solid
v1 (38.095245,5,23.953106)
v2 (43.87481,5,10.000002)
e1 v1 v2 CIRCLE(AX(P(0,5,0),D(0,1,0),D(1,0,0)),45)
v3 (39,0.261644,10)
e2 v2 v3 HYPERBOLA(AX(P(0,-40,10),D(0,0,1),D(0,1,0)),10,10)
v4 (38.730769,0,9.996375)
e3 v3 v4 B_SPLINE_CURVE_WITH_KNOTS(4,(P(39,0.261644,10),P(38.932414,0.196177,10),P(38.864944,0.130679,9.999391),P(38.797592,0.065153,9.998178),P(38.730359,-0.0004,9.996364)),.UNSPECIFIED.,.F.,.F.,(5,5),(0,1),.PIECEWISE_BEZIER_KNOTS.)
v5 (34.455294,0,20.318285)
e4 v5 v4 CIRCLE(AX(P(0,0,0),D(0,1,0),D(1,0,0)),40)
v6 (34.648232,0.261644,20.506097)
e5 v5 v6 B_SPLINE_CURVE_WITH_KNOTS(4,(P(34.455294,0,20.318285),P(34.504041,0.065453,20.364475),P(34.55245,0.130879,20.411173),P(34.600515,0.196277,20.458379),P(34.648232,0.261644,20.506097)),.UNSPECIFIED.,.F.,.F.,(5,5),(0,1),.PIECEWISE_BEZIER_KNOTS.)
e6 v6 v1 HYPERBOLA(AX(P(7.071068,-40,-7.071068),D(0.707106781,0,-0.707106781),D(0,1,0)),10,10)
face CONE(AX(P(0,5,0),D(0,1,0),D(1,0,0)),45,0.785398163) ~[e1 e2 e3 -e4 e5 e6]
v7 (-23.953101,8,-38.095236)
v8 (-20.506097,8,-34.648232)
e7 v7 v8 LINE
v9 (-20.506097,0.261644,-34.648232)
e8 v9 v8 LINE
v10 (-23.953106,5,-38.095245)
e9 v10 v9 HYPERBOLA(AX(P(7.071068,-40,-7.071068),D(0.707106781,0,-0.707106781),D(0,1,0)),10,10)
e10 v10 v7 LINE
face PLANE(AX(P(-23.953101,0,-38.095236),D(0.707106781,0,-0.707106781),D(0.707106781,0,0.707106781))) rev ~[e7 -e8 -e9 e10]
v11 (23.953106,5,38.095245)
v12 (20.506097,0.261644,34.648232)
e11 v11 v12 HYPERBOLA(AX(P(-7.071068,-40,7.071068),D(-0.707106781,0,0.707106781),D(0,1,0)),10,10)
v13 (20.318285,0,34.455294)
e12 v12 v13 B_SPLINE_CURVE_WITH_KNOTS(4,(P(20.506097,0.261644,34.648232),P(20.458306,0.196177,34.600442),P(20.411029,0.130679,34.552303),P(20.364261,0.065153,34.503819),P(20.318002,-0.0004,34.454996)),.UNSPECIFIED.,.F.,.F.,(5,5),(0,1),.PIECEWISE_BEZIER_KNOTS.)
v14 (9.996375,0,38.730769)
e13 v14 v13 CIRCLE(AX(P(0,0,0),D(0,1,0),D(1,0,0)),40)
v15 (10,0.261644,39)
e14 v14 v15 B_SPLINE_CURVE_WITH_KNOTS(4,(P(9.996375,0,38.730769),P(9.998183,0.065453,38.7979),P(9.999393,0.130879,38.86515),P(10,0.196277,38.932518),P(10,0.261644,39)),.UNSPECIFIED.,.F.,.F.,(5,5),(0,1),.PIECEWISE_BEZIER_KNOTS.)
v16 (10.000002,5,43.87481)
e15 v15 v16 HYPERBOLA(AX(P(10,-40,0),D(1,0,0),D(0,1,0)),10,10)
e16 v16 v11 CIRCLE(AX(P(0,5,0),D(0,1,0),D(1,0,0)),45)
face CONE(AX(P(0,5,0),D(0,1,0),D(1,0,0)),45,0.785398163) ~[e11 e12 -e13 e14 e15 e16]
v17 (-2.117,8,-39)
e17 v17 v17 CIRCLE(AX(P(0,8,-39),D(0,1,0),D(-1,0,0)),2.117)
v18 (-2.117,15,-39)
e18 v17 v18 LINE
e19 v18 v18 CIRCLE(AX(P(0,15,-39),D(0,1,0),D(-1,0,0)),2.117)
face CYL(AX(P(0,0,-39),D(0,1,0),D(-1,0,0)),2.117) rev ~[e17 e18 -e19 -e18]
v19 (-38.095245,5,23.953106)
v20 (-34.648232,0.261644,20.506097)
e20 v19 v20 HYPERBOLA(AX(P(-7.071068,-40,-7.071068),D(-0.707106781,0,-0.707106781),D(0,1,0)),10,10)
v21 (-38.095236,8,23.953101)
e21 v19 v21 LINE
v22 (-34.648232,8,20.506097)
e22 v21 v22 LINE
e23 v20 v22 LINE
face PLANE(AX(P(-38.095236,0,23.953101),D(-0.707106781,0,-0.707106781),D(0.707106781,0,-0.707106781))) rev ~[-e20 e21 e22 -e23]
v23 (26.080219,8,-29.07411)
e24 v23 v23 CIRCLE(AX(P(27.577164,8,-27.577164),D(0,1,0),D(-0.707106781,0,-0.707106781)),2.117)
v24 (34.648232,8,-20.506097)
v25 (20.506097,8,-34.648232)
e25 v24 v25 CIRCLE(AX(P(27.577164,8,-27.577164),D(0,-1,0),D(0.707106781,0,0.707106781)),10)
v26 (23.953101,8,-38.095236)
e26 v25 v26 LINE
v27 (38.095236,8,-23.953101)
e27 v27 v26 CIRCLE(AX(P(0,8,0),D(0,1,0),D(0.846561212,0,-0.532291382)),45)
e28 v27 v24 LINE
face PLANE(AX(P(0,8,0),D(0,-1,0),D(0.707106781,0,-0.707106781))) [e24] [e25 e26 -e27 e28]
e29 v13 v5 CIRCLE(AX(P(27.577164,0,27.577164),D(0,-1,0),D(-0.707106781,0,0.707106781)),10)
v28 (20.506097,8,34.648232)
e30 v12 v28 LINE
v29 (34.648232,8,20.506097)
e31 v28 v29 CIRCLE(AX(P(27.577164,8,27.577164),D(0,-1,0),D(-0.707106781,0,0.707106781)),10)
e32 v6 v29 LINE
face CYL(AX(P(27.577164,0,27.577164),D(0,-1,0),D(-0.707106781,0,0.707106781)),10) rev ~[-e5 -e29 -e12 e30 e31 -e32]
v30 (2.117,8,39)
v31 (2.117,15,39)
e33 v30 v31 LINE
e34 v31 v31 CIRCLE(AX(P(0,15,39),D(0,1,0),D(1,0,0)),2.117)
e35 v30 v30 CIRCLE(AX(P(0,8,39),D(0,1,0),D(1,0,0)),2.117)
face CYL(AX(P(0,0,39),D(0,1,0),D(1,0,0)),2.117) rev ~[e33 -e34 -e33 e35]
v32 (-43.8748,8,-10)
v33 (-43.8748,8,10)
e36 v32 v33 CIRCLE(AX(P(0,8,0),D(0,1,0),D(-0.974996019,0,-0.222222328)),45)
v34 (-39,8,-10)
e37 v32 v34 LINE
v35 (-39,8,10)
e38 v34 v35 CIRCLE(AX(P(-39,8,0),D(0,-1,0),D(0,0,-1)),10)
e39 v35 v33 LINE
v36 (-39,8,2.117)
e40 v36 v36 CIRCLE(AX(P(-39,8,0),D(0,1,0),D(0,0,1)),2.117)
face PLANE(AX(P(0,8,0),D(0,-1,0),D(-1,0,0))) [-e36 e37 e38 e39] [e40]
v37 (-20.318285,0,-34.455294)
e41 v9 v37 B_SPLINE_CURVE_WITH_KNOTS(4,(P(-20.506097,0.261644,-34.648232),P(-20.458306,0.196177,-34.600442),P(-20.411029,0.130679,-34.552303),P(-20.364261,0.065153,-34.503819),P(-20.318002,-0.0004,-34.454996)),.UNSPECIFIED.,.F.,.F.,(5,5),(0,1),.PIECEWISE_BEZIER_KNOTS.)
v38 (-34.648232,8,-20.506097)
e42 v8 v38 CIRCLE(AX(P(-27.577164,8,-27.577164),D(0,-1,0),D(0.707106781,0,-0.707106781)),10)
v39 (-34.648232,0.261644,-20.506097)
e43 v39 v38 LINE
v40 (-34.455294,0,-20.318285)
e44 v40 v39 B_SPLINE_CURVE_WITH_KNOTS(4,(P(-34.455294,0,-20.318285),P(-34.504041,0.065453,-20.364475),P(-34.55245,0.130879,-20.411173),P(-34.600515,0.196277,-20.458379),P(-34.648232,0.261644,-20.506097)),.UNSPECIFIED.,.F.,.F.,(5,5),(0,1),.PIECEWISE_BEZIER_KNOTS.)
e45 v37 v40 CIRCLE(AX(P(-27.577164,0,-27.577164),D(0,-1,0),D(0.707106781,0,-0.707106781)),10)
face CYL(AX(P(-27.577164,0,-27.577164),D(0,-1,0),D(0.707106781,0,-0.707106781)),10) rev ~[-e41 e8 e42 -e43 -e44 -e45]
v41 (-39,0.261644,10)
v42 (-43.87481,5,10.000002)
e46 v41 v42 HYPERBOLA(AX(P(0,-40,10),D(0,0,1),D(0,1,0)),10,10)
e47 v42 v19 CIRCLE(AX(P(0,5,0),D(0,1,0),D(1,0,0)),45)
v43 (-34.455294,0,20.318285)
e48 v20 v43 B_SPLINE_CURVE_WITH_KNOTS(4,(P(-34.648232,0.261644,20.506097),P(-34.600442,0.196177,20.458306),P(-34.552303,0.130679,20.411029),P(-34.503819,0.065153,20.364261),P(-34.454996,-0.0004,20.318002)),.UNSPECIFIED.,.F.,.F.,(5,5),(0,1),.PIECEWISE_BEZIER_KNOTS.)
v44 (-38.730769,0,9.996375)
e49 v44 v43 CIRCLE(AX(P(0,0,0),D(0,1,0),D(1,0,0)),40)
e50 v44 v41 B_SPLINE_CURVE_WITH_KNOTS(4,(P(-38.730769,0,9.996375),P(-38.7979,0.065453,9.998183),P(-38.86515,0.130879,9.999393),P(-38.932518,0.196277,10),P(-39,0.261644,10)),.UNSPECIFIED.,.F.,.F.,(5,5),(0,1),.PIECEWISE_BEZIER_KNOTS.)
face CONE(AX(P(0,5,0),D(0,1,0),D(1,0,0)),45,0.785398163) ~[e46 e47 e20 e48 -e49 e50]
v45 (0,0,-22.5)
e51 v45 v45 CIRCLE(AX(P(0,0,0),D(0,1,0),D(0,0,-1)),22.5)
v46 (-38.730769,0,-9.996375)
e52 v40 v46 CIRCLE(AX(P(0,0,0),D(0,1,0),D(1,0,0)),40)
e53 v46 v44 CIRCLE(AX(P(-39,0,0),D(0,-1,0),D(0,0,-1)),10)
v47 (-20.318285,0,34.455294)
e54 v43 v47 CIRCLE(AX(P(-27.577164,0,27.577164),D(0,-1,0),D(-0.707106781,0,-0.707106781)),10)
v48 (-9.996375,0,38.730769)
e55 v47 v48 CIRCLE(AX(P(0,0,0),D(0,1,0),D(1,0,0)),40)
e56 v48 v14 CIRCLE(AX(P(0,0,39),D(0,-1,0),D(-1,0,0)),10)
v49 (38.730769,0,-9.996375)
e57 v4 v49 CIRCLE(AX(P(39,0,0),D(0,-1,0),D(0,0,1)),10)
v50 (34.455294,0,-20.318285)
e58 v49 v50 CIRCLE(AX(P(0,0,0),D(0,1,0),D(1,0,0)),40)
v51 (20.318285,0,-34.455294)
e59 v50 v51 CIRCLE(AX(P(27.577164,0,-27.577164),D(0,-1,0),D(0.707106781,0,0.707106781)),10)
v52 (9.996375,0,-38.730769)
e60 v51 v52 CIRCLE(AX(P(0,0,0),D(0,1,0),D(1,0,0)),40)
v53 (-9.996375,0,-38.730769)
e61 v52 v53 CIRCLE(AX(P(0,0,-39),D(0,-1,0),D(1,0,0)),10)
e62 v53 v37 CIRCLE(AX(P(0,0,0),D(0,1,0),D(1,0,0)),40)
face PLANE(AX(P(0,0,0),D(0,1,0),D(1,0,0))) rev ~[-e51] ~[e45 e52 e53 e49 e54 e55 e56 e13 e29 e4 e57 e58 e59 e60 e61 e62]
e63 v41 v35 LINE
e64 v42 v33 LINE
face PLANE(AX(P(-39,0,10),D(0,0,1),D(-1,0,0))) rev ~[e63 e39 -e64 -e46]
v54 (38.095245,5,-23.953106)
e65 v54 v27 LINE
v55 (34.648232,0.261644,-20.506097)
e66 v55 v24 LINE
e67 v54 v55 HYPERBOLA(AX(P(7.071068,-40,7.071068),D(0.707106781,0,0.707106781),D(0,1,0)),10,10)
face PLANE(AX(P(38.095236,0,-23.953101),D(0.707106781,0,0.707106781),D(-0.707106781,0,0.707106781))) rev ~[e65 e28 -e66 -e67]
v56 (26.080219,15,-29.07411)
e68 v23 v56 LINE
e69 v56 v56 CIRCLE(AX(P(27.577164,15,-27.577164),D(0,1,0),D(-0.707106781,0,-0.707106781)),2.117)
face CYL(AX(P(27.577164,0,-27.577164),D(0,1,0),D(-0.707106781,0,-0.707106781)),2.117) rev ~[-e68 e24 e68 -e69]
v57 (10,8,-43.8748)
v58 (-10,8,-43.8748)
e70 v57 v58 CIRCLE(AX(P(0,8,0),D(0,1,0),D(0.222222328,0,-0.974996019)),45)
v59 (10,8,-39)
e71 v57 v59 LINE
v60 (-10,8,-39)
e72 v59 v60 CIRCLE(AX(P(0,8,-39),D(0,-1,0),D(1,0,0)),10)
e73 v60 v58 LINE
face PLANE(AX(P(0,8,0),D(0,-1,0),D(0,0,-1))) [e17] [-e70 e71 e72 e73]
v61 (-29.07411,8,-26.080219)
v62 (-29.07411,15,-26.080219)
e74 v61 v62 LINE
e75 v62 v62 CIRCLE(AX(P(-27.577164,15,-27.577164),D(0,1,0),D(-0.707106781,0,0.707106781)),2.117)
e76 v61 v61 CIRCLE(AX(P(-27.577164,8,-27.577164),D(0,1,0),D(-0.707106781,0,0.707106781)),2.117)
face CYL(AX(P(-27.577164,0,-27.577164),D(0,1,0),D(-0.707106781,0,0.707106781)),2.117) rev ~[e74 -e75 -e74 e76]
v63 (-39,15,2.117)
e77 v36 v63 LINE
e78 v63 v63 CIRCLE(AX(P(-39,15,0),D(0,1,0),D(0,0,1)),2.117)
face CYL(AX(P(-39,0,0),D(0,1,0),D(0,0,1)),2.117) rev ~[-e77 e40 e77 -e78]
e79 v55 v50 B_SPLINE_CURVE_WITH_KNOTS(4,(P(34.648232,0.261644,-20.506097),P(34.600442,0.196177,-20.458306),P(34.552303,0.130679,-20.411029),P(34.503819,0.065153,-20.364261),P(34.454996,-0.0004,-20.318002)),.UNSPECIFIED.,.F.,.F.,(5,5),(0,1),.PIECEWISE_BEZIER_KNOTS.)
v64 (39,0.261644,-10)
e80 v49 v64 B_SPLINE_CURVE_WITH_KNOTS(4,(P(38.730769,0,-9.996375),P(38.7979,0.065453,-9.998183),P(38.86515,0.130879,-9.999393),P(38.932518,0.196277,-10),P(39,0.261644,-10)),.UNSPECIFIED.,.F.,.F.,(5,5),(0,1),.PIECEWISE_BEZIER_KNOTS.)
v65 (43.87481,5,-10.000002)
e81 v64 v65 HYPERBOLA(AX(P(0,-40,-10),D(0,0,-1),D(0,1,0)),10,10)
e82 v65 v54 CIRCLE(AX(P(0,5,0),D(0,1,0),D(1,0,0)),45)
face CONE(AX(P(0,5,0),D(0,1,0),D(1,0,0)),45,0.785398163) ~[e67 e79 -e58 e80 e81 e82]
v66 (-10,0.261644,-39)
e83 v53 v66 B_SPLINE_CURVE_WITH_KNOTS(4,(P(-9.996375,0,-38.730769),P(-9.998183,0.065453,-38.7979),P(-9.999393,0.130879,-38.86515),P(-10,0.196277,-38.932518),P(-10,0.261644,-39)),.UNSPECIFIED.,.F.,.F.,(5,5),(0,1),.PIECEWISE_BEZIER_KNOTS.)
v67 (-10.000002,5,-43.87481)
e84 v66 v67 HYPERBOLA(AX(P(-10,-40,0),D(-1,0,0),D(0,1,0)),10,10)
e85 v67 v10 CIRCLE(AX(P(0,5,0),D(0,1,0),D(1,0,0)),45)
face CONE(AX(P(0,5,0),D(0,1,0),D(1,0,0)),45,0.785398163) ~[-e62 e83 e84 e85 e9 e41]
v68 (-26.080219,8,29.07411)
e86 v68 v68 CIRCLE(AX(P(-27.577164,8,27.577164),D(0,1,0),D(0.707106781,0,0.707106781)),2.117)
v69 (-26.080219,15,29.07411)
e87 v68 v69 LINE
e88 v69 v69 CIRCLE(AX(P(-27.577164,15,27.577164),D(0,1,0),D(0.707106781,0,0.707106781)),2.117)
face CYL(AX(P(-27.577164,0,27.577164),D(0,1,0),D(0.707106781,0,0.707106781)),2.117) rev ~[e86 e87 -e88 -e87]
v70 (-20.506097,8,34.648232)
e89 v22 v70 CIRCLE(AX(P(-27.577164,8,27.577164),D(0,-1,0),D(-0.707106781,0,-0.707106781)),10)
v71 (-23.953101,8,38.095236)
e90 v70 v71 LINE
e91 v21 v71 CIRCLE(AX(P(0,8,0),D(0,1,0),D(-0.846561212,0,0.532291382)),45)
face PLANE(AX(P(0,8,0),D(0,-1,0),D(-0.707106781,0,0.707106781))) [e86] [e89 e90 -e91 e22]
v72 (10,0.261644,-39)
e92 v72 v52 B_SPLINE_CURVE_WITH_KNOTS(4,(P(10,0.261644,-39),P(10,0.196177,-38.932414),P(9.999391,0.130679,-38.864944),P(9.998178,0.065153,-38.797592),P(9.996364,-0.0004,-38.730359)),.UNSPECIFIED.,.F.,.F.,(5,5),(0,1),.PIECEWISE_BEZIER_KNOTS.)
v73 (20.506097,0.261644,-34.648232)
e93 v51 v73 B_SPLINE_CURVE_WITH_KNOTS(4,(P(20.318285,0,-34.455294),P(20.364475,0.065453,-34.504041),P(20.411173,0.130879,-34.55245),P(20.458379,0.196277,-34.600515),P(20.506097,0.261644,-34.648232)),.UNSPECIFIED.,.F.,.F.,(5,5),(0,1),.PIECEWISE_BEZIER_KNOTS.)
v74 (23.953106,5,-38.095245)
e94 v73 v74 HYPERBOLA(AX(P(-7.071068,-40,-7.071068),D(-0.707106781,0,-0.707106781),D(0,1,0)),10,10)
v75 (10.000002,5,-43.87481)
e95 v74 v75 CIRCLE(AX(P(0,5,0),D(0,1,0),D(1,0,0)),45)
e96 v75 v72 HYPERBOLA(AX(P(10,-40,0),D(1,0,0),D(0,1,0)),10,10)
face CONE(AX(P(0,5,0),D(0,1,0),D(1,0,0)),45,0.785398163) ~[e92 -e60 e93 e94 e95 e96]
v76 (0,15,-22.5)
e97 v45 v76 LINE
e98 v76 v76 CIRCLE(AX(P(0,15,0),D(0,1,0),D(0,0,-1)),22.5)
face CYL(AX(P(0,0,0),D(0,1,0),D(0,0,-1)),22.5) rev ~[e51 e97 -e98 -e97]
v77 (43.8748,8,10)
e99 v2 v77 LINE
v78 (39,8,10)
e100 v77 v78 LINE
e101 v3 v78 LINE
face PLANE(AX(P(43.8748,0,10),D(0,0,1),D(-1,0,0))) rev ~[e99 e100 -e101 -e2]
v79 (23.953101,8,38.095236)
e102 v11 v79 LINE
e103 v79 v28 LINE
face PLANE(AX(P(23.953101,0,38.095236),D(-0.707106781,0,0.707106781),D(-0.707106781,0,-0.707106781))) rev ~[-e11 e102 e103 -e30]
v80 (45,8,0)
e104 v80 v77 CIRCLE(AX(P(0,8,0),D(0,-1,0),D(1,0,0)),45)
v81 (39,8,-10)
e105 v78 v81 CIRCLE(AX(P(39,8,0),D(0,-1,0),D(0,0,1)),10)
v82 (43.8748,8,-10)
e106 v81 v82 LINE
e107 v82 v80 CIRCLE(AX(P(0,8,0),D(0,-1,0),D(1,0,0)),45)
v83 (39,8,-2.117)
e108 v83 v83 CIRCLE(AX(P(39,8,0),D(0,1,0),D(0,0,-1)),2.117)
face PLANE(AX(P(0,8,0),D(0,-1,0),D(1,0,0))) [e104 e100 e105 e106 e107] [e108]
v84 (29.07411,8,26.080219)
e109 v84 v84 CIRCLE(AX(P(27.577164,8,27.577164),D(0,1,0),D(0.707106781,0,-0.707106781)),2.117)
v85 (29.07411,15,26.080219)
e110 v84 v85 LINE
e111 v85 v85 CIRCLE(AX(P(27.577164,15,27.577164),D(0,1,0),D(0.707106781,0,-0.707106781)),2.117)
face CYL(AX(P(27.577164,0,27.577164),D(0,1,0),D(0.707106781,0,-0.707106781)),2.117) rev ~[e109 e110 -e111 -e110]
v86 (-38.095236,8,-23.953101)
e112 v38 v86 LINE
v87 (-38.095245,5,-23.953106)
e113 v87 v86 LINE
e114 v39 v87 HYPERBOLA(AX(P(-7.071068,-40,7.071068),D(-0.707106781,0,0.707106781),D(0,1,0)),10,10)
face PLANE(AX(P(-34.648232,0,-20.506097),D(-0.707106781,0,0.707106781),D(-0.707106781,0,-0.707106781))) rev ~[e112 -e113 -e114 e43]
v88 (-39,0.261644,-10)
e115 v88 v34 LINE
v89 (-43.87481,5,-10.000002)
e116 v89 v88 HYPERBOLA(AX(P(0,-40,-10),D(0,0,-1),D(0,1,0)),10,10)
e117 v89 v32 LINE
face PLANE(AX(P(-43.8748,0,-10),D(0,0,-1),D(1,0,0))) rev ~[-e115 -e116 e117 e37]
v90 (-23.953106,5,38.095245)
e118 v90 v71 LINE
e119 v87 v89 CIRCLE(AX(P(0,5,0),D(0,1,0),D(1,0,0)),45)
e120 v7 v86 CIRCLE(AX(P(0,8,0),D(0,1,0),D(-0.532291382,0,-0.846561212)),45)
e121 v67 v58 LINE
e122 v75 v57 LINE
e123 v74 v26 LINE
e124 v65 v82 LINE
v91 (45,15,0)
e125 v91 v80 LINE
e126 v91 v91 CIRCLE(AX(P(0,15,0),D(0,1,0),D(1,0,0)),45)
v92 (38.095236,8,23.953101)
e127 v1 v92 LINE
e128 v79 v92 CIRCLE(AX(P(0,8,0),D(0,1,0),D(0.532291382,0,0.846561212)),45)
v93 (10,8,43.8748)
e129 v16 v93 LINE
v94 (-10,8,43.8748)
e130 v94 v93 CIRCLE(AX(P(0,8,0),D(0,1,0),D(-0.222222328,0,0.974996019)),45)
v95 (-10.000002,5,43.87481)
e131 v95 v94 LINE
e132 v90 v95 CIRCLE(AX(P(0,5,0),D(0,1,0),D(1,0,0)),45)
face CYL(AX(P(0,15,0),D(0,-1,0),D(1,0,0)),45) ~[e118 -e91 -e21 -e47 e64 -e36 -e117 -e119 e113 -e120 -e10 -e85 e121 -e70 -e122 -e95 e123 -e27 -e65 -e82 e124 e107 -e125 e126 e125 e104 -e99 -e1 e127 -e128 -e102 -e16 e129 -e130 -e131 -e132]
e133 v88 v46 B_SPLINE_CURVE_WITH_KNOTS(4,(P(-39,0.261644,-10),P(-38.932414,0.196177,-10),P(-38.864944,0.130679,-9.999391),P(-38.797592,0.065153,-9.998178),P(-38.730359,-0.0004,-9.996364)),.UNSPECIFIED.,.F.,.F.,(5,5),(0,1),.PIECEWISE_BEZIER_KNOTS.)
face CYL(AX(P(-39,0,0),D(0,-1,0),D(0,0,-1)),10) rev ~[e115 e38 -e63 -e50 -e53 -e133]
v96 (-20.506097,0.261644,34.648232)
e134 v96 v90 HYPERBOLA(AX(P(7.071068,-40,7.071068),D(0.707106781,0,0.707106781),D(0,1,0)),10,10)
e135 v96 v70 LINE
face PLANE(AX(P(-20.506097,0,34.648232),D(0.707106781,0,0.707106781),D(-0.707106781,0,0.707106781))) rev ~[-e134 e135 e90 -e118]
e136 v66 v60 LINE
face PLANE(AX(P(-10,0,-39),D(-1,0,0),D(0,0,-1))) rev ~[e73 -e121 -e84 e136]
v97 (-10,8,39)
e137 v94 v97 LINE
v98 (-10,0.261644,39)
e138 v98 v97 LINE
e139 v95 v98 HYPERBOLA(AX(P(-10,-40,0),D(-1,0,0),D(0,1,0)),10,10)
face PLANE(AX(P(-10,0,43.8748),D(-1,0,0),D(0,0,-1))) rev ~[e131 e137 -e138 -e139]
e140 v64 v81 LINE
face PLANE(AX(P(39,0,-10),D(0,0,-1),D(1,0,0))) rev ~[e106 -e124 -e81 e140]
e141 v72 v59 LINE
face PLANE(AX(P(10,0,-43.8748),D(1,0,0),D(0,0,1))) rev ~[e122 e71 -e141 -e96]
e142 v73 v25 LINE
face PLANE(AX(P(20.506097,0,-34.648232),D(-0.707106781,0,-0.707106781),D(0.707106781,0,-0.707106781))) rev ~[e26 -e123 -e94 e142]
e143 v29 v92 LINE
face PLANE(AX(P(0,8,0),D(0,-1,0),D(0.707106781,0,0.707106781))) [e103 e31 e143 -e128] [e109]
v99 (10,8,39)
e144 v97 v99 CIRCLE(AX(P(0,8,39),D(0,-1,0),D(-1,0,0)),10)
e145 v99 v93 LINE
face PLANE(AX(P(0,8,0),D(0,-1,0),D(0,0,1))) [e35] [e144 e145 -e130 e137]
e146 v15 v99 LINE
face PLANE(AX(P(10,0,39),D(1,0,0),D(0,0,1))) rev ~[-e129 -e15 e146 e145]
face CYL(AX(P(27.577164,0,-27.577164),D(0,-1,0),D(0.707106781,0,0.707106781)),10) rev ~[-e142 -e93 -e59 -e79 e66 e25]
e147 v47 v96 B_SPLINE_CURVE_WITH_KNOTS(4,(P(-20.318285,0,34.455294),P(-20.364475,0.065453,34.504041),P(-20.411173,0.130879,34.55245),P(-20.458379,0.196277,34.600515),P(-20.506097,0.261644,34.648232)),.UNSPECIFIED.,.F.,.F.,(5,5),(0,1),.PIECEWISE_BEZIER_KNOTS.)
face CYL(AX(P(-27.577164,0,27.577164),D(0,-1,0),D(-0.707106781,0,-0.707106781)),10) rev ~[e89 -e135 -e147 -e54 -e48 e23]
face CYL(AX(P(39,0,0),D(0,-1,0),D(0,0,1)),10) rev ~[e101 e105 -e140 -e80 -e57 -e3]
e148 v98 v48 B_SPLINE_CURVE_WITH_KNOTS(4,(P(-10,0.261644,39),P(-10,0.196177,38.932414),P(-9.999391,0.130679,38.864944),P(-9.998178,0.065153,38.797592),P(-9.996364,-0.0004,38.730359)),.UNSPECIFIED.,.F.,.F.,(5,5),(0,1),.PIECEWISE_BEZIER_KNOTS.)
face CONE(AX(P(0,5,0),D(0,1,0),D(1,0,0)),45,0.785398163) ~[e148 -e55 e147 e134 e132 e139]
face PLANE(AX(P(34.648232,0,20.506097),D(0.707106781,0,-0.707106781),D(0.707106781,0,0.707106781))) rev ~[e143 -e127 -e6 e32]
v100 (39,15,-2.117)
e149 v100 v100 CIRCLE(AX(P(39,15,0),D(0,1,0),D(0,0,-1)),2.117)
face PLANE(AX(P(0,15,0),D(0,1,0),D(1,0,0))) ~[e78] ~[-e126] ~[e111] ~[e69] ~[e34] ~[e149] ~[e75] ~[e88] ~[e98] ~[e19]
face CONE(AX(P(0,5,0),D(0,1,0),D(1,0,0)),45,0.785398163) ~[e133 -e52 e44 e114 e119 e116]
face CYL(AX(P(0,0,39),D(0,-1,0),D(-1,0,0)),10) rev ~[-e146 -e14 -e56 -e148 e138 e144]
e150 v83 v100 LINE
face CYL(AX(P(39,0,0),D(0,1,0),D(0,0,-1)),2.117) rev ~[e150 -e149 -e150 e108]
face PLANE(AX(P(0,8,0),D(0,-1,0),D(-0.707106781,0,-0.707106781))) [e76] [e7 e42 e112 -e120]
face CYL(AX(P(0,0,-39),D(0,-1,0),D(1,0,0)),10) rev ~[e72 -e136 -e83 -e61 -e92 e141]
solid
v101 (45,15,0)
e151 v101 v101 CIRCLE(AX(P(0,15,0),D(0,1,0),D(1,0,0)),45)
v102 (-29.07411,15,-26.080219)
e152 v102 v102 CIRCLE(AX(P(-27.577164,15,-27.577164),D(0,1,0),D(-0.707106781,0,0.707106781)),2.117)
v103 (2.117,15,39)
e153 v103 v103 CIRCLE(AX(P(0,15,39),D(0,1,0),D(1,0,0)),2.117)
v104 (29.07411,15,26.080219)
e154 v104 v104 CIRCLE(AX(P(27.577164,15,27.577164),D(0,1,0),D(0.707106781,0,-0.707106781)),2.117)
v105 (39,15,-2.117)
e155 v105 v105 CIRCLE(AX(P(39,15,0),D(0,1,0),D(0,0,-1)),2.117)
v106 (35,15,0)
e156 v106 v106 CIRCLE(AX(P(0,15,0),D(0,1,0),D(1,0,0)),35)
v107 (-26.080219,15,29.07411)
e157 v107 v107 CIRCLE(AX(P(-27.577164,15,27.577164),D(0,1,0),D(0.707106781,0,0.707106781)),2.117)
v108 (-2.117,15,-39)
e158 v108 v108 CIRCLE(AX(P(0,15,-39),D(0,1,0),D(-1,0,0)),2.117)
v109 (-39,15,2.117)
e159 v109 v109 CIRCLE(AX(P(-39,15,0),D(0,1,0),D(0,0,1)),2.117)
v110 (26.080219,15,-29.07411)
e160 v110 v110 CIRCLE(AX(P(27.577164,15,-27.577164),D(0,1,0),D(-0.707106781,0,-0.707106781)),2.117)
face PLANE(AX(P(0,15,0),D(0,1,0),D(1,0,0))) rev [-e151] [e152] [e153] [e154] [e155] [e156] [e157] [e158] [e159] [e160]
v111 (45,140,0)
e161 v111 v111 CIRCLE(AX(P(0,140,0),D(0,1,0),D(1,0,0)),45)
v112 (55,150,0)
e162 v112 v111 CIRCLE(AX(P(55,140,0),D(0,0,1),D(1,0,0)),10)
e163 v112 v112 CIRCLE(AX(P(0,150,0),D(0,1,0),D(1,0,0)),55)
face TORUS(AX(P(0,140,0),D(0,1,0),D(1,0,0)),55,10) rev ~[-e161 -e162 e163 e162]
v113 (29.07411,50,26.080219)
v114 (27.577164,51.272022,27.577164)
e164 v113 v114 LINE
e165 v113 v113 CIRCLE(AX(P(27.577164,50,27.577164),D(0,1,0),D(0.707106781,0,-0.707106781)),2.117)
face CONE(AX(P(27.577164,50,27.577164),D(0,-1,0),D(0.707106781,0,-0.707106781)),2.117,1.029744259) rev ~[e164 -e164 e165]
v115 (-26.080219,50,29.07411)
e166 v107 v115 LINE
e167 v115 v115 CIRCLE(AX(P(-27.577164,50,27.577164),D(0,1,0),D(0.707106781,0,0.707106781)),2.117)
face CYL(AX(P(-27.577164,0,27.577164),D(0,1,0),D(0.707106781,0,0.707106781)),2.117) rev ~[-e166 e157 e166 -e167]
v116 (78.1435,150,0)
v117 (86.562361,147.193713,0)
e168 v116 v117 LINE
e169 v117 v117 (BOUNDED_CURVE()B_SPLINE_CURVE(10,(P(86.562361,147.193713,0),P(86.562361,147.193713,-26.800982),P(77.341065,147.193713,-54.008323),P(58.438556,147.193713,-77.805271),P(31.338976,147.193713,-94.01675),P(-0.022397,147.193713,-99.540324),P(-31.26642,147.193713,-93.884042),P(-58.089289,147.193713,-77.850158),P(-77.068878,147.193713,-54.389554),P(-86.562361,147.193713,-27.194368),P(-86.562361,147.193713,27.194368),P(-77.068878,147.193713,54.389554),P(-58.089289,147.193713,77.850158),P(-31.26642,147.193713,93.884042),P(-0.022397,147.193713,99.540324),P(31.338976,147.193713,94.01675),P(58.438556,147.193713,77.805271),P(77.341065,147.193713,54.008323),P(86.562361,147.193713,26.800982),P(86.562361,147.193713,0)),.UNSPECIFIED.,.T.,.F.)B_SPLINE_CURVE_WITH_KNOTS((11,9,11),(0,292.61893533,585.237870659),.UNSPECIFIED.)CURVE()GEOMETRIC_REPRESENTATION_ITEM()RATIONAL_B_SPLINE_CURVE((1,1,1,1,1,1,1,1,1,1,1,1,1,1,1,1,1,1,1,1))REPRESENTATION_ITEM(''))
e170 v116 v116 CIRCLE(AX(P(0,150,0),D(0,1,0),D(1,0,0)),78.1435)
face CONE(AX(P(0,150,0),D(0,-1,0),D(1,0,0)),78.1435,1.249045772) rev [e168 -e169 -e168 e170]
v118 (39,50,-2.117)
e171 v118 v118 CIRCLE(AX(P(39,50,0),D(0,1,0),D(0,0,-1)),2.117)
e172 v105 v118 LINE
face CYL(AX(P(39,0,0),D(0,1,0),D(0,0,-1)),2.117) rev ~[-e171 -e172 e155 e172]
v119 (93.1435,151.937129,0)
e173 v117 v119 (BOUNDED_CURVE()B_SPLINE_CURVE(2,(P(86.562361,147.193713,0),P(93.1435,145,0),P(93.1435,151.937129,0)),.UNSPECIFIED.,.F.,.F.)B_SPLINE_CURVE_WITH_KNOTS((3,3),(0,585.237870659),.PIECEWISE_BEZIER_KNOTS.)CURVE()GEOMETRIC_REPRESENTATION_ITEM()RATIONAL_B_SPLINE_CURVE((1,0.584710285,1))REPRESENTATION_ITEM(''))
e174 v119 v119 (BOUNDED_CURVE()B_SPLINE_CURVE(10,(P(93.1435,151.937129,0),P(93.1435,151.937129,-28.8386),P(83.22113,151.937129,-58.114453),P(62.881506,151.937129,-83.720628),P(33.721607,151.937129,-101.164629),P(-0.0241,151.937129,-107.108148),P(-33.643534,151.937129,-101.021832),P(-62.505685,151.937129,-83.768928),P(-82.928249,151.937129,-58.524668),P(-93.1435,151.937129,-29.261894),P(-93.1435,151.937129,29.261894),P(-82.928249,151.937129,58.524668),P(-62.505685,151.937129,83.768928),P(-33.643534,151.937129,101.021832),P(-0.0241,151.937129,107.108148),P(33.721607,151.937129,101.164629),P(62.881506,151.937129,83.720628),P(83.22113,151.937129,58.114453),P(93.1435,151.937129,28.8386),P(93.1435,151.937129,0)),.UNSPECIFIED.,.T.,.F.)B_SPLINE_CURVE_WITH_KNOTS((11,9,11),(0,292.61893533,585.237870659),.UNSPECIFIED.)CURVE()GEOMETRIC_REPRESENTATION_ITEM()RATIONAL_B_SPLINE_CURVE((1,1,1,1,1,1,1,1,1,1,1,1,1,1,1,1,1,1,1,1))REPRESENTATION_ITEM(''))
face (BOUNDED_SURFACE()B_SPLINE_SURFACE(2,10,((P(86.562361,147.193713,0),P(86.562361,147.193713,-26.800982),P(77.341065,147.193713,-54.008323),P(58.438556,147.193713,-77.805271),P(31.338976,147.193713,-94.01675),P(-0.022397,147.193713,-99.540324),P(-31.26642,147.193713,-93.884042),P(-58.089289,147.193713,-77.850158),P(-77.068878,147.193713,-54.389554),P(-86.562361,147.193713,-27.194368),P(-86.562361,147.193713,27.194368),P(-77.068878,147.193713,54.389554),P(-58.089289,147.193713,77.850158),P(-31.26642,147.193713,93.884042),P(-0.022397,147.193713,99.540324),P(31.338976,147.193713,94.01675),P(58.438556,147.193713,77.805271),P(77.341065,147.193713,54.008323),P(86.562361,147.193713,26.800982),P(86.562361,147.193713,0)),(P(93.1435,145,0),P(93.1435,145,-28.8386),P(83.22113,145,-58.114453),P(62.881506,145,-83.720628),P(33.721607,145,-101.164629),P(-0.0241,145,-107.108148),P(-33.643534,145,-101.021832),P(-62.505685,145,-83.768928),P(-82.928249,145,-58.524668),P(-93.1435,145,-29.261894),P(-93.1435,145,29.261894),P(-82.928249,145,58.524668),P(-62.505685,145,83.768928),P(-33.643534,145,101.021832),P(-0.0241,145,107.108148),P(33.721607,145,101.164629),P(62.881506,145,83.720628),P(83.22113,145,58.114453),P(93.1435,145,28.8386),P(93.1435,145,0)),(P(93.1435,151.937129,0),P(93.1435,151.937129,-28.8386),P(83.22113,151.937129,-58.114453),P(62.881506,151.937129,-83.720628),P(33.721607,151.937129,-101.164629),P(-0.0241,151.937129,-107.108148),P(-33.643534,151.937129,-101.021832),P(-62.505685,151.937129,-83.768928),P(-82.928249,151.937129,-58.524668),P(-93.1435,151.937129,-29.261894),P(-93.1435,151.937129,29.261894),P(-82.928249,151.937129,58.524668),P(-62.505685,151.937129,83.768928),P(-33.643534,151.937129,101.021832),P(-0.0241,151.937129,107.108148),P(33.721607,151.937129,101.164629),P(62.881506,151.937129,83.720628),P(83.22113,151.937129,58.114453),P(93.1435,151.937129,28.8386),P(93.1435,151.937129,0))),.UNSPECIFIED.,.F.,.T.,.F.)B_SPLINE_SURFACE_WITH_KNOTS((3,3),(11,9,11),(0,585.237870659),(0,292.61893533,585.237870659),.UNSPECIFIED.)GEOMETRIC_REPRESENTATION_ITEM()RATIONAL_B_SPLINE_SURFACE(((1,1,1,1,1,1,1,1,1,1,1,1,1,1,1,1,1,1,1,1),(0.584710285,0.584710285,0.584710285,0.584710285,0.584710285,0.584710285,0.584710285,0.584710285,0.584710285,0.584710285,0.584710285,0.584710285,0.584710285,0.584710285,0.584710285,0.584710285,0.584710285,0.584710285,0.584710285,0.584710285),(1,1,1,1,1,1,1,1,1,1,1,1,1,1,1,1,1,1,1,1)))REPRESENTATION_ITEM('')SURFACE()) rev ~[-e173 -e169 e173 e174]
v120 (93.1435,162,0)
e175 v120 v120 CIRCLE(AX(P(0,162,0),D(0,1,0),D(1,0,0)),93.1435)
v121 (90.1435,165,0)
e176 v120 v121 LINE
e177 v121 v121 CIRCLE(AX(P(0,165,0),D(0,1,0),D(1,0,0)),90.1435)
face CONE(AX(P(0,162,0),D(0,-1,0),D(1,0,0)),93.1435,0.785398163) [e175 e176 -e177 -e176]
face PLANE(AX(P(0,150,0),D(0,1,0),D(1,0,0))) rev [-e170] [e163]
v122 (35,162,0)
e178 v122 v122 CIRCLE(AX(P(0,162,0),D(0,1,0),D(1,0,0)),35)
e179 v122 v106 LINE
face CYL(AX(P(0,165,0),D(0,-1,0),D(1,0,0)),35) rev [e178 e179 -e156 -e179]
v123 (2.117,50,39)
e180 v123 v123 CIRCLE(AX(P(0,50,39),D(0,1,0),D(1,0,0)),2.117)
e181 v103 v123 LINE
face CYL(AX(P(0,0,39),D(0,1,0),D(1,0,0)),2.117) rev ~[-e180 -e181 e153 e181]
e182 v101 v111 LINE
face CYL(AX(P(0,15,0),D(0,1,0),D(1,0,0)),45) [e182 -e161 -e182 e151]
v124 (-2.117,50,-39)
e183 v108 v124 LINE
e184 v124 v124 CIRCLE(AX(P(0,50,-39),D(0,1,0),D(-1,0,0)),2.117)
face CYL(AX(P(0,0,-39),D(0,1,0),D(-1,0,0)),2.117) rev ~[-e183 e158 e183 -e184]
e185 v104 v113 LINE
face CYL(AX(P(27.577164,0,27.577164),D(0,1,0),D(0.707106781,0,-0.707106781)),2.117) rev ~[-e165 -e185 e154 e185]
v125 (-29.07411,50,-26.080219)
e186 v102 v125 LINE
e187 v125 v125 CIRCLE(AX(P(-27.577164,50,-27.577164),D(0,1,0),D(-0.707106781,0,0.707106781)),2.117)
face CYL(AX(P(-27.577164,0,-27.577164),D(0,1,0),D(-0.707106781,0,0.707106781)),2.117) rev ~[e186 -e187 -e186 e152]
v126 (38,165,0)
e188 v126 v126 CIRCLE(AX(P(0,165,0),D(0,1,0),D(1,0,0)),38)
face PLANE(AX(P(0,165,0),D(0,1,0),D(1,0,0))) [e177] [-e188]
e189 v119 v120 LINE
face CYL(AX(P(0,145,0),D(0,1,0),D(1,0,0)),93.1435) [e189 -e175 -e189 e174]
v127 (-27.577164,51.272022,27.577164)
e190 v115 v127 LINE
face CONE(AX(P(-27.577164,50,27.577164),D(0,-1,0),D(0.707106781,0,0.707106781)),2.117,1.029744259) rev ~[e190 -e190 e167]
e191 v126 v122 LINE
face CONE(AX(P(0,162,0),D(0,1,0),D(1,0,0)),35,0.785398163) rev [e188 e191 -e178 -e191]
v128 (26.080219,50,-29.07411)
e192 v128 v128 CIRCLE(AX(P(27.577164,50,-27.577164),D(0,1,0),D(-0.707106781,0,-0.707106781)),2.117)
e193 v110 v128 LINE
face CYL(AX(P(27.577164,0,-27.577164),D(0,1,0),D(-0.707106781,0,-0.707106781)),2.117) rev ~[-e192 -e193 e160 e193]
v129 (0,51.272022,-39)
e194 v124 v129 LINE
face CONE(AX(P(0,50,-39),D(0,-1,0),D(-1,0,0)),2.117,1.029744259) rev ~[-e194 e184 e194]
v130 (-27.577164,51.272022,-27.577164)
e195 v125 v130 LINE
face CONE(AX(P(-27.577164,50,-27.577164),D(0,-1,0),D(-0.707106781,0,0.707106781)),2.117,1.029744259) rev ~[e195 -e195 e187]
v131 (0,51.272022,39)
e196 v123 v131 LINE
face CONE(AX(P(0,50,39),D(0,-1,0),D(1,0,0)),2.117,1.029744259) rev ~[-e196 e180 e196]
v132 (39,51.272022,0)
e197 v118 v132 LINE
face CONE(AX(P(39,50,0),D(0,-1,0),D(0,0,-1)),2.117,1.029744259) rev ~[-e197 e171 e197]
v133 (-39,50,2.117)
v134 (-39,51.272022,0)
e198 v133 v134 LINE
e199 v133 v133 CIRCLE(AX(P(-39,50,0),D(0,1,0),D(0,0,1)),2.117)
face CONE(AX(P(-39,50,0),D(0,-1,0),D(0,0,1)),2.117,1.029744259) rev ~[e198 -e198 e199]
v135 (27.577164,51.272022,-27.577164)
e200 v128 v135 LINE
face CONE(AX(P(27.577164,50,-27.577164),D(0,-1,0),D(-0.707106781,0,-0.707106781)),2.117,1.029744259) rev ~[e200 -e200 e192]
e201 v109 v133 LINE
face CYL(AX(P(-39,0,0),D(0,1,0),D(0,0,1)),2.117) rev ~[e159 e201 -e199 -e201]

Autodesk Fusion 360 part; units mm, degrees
sketch "Sketch1" plane through (0, 0, 0) normal (0, 0, 1) x (1, 0, 0)
  line L0 (93.1435, 165) -> (35, 165)
  line L1 (35, 165) -> (35, 15)
  line L2 (35, 15) -> (45, 15)
  line L3 (45, 15) -> (45, 150)
  line L4 (93.1435, 145) -> (93.1435, 165)
  line L5 (45, 15) -> (45, 0)
  line L6 (45, 0) -> (0, 0)
  line L7 (0, 0) -> (0, 15)
  line L8 (0, 15) -> (35, 15)
  line L9 (45, 150) -> (78.1435, 150)
  line L10 (78.1435, 150) -> (93.1435, 145)
  dimension "d1" = 35
  dimension "d2" = 150
  dimension "d3" = 10
  dimension "d5" = 20
  dimension "d6" = 15
  dimension "d24" = 15
  dimension "d25" = 15
revolve "Revolve1" add sketch "Sketch1" angle 360 about axis through (0, 1.75, 0) along (0, 1, 0) contours L0 L1 L2 L3 L4 L9 L10 makes body 1
revolve "Revolve2" add sketch "Sketch1" angle 360 about axis through (0, 0, 0) along (0, 1, 0) separate body contours L2 L5 L6 L7 L8 makes body 2
fillet "Fillet2" radius 10 1 edges at (-41.9547, 150, -16.2727) on bodies 1
sketch "Sketch2" plane through (0, 0, 0) normal (0, -1, 0) x (1, 0, 0)
  circle A0 centre (0, 0) radius 45
  line L0 (43.8748, 10) -> (39, 10)
  line L1 (39, -10) -> (43.8748, -10)
  arc A1 (39, 10) -> (39, -10) centre (39, 0) ccw
  dimension "d30" = 39
  dimension "d37" = 10
chamfer "Chamfer2" distance 5 angle 45 1 edges at (-41.9547, 0, -16.2727) on bodies 2
extrude "Extrude4" cut sketch "Sketch2" against normal blind 8 contours A0 L0 L1 A1 picked at (40.3521, -3.1977) bodies 2
hole "Hole2" at (39, 0, 0) direction (0, 1, 0) diameter 4.234 depth 50 tip angle 118 bodies 1 2
pattern_circular "C-Pattern2" count 8 over 360 about axis through (0, 1.75, 0) along (0, 1, 0) of "Hole2", "Extrude4"
fillet "Fillet3" radius 5 1 edges at (-86.8402, 145, -33.6821) on bodies 1
chamfer "Chamfer3" distance 3 angle 45 2 edges at (-86.8402, 165, -33.6821) (-32.6315, 165, -12.6565) on bodies 1
hole "Hole3" at (0, 0, 0) direction (0, 1, 0) diameter 45 end through all bodies 1 2
